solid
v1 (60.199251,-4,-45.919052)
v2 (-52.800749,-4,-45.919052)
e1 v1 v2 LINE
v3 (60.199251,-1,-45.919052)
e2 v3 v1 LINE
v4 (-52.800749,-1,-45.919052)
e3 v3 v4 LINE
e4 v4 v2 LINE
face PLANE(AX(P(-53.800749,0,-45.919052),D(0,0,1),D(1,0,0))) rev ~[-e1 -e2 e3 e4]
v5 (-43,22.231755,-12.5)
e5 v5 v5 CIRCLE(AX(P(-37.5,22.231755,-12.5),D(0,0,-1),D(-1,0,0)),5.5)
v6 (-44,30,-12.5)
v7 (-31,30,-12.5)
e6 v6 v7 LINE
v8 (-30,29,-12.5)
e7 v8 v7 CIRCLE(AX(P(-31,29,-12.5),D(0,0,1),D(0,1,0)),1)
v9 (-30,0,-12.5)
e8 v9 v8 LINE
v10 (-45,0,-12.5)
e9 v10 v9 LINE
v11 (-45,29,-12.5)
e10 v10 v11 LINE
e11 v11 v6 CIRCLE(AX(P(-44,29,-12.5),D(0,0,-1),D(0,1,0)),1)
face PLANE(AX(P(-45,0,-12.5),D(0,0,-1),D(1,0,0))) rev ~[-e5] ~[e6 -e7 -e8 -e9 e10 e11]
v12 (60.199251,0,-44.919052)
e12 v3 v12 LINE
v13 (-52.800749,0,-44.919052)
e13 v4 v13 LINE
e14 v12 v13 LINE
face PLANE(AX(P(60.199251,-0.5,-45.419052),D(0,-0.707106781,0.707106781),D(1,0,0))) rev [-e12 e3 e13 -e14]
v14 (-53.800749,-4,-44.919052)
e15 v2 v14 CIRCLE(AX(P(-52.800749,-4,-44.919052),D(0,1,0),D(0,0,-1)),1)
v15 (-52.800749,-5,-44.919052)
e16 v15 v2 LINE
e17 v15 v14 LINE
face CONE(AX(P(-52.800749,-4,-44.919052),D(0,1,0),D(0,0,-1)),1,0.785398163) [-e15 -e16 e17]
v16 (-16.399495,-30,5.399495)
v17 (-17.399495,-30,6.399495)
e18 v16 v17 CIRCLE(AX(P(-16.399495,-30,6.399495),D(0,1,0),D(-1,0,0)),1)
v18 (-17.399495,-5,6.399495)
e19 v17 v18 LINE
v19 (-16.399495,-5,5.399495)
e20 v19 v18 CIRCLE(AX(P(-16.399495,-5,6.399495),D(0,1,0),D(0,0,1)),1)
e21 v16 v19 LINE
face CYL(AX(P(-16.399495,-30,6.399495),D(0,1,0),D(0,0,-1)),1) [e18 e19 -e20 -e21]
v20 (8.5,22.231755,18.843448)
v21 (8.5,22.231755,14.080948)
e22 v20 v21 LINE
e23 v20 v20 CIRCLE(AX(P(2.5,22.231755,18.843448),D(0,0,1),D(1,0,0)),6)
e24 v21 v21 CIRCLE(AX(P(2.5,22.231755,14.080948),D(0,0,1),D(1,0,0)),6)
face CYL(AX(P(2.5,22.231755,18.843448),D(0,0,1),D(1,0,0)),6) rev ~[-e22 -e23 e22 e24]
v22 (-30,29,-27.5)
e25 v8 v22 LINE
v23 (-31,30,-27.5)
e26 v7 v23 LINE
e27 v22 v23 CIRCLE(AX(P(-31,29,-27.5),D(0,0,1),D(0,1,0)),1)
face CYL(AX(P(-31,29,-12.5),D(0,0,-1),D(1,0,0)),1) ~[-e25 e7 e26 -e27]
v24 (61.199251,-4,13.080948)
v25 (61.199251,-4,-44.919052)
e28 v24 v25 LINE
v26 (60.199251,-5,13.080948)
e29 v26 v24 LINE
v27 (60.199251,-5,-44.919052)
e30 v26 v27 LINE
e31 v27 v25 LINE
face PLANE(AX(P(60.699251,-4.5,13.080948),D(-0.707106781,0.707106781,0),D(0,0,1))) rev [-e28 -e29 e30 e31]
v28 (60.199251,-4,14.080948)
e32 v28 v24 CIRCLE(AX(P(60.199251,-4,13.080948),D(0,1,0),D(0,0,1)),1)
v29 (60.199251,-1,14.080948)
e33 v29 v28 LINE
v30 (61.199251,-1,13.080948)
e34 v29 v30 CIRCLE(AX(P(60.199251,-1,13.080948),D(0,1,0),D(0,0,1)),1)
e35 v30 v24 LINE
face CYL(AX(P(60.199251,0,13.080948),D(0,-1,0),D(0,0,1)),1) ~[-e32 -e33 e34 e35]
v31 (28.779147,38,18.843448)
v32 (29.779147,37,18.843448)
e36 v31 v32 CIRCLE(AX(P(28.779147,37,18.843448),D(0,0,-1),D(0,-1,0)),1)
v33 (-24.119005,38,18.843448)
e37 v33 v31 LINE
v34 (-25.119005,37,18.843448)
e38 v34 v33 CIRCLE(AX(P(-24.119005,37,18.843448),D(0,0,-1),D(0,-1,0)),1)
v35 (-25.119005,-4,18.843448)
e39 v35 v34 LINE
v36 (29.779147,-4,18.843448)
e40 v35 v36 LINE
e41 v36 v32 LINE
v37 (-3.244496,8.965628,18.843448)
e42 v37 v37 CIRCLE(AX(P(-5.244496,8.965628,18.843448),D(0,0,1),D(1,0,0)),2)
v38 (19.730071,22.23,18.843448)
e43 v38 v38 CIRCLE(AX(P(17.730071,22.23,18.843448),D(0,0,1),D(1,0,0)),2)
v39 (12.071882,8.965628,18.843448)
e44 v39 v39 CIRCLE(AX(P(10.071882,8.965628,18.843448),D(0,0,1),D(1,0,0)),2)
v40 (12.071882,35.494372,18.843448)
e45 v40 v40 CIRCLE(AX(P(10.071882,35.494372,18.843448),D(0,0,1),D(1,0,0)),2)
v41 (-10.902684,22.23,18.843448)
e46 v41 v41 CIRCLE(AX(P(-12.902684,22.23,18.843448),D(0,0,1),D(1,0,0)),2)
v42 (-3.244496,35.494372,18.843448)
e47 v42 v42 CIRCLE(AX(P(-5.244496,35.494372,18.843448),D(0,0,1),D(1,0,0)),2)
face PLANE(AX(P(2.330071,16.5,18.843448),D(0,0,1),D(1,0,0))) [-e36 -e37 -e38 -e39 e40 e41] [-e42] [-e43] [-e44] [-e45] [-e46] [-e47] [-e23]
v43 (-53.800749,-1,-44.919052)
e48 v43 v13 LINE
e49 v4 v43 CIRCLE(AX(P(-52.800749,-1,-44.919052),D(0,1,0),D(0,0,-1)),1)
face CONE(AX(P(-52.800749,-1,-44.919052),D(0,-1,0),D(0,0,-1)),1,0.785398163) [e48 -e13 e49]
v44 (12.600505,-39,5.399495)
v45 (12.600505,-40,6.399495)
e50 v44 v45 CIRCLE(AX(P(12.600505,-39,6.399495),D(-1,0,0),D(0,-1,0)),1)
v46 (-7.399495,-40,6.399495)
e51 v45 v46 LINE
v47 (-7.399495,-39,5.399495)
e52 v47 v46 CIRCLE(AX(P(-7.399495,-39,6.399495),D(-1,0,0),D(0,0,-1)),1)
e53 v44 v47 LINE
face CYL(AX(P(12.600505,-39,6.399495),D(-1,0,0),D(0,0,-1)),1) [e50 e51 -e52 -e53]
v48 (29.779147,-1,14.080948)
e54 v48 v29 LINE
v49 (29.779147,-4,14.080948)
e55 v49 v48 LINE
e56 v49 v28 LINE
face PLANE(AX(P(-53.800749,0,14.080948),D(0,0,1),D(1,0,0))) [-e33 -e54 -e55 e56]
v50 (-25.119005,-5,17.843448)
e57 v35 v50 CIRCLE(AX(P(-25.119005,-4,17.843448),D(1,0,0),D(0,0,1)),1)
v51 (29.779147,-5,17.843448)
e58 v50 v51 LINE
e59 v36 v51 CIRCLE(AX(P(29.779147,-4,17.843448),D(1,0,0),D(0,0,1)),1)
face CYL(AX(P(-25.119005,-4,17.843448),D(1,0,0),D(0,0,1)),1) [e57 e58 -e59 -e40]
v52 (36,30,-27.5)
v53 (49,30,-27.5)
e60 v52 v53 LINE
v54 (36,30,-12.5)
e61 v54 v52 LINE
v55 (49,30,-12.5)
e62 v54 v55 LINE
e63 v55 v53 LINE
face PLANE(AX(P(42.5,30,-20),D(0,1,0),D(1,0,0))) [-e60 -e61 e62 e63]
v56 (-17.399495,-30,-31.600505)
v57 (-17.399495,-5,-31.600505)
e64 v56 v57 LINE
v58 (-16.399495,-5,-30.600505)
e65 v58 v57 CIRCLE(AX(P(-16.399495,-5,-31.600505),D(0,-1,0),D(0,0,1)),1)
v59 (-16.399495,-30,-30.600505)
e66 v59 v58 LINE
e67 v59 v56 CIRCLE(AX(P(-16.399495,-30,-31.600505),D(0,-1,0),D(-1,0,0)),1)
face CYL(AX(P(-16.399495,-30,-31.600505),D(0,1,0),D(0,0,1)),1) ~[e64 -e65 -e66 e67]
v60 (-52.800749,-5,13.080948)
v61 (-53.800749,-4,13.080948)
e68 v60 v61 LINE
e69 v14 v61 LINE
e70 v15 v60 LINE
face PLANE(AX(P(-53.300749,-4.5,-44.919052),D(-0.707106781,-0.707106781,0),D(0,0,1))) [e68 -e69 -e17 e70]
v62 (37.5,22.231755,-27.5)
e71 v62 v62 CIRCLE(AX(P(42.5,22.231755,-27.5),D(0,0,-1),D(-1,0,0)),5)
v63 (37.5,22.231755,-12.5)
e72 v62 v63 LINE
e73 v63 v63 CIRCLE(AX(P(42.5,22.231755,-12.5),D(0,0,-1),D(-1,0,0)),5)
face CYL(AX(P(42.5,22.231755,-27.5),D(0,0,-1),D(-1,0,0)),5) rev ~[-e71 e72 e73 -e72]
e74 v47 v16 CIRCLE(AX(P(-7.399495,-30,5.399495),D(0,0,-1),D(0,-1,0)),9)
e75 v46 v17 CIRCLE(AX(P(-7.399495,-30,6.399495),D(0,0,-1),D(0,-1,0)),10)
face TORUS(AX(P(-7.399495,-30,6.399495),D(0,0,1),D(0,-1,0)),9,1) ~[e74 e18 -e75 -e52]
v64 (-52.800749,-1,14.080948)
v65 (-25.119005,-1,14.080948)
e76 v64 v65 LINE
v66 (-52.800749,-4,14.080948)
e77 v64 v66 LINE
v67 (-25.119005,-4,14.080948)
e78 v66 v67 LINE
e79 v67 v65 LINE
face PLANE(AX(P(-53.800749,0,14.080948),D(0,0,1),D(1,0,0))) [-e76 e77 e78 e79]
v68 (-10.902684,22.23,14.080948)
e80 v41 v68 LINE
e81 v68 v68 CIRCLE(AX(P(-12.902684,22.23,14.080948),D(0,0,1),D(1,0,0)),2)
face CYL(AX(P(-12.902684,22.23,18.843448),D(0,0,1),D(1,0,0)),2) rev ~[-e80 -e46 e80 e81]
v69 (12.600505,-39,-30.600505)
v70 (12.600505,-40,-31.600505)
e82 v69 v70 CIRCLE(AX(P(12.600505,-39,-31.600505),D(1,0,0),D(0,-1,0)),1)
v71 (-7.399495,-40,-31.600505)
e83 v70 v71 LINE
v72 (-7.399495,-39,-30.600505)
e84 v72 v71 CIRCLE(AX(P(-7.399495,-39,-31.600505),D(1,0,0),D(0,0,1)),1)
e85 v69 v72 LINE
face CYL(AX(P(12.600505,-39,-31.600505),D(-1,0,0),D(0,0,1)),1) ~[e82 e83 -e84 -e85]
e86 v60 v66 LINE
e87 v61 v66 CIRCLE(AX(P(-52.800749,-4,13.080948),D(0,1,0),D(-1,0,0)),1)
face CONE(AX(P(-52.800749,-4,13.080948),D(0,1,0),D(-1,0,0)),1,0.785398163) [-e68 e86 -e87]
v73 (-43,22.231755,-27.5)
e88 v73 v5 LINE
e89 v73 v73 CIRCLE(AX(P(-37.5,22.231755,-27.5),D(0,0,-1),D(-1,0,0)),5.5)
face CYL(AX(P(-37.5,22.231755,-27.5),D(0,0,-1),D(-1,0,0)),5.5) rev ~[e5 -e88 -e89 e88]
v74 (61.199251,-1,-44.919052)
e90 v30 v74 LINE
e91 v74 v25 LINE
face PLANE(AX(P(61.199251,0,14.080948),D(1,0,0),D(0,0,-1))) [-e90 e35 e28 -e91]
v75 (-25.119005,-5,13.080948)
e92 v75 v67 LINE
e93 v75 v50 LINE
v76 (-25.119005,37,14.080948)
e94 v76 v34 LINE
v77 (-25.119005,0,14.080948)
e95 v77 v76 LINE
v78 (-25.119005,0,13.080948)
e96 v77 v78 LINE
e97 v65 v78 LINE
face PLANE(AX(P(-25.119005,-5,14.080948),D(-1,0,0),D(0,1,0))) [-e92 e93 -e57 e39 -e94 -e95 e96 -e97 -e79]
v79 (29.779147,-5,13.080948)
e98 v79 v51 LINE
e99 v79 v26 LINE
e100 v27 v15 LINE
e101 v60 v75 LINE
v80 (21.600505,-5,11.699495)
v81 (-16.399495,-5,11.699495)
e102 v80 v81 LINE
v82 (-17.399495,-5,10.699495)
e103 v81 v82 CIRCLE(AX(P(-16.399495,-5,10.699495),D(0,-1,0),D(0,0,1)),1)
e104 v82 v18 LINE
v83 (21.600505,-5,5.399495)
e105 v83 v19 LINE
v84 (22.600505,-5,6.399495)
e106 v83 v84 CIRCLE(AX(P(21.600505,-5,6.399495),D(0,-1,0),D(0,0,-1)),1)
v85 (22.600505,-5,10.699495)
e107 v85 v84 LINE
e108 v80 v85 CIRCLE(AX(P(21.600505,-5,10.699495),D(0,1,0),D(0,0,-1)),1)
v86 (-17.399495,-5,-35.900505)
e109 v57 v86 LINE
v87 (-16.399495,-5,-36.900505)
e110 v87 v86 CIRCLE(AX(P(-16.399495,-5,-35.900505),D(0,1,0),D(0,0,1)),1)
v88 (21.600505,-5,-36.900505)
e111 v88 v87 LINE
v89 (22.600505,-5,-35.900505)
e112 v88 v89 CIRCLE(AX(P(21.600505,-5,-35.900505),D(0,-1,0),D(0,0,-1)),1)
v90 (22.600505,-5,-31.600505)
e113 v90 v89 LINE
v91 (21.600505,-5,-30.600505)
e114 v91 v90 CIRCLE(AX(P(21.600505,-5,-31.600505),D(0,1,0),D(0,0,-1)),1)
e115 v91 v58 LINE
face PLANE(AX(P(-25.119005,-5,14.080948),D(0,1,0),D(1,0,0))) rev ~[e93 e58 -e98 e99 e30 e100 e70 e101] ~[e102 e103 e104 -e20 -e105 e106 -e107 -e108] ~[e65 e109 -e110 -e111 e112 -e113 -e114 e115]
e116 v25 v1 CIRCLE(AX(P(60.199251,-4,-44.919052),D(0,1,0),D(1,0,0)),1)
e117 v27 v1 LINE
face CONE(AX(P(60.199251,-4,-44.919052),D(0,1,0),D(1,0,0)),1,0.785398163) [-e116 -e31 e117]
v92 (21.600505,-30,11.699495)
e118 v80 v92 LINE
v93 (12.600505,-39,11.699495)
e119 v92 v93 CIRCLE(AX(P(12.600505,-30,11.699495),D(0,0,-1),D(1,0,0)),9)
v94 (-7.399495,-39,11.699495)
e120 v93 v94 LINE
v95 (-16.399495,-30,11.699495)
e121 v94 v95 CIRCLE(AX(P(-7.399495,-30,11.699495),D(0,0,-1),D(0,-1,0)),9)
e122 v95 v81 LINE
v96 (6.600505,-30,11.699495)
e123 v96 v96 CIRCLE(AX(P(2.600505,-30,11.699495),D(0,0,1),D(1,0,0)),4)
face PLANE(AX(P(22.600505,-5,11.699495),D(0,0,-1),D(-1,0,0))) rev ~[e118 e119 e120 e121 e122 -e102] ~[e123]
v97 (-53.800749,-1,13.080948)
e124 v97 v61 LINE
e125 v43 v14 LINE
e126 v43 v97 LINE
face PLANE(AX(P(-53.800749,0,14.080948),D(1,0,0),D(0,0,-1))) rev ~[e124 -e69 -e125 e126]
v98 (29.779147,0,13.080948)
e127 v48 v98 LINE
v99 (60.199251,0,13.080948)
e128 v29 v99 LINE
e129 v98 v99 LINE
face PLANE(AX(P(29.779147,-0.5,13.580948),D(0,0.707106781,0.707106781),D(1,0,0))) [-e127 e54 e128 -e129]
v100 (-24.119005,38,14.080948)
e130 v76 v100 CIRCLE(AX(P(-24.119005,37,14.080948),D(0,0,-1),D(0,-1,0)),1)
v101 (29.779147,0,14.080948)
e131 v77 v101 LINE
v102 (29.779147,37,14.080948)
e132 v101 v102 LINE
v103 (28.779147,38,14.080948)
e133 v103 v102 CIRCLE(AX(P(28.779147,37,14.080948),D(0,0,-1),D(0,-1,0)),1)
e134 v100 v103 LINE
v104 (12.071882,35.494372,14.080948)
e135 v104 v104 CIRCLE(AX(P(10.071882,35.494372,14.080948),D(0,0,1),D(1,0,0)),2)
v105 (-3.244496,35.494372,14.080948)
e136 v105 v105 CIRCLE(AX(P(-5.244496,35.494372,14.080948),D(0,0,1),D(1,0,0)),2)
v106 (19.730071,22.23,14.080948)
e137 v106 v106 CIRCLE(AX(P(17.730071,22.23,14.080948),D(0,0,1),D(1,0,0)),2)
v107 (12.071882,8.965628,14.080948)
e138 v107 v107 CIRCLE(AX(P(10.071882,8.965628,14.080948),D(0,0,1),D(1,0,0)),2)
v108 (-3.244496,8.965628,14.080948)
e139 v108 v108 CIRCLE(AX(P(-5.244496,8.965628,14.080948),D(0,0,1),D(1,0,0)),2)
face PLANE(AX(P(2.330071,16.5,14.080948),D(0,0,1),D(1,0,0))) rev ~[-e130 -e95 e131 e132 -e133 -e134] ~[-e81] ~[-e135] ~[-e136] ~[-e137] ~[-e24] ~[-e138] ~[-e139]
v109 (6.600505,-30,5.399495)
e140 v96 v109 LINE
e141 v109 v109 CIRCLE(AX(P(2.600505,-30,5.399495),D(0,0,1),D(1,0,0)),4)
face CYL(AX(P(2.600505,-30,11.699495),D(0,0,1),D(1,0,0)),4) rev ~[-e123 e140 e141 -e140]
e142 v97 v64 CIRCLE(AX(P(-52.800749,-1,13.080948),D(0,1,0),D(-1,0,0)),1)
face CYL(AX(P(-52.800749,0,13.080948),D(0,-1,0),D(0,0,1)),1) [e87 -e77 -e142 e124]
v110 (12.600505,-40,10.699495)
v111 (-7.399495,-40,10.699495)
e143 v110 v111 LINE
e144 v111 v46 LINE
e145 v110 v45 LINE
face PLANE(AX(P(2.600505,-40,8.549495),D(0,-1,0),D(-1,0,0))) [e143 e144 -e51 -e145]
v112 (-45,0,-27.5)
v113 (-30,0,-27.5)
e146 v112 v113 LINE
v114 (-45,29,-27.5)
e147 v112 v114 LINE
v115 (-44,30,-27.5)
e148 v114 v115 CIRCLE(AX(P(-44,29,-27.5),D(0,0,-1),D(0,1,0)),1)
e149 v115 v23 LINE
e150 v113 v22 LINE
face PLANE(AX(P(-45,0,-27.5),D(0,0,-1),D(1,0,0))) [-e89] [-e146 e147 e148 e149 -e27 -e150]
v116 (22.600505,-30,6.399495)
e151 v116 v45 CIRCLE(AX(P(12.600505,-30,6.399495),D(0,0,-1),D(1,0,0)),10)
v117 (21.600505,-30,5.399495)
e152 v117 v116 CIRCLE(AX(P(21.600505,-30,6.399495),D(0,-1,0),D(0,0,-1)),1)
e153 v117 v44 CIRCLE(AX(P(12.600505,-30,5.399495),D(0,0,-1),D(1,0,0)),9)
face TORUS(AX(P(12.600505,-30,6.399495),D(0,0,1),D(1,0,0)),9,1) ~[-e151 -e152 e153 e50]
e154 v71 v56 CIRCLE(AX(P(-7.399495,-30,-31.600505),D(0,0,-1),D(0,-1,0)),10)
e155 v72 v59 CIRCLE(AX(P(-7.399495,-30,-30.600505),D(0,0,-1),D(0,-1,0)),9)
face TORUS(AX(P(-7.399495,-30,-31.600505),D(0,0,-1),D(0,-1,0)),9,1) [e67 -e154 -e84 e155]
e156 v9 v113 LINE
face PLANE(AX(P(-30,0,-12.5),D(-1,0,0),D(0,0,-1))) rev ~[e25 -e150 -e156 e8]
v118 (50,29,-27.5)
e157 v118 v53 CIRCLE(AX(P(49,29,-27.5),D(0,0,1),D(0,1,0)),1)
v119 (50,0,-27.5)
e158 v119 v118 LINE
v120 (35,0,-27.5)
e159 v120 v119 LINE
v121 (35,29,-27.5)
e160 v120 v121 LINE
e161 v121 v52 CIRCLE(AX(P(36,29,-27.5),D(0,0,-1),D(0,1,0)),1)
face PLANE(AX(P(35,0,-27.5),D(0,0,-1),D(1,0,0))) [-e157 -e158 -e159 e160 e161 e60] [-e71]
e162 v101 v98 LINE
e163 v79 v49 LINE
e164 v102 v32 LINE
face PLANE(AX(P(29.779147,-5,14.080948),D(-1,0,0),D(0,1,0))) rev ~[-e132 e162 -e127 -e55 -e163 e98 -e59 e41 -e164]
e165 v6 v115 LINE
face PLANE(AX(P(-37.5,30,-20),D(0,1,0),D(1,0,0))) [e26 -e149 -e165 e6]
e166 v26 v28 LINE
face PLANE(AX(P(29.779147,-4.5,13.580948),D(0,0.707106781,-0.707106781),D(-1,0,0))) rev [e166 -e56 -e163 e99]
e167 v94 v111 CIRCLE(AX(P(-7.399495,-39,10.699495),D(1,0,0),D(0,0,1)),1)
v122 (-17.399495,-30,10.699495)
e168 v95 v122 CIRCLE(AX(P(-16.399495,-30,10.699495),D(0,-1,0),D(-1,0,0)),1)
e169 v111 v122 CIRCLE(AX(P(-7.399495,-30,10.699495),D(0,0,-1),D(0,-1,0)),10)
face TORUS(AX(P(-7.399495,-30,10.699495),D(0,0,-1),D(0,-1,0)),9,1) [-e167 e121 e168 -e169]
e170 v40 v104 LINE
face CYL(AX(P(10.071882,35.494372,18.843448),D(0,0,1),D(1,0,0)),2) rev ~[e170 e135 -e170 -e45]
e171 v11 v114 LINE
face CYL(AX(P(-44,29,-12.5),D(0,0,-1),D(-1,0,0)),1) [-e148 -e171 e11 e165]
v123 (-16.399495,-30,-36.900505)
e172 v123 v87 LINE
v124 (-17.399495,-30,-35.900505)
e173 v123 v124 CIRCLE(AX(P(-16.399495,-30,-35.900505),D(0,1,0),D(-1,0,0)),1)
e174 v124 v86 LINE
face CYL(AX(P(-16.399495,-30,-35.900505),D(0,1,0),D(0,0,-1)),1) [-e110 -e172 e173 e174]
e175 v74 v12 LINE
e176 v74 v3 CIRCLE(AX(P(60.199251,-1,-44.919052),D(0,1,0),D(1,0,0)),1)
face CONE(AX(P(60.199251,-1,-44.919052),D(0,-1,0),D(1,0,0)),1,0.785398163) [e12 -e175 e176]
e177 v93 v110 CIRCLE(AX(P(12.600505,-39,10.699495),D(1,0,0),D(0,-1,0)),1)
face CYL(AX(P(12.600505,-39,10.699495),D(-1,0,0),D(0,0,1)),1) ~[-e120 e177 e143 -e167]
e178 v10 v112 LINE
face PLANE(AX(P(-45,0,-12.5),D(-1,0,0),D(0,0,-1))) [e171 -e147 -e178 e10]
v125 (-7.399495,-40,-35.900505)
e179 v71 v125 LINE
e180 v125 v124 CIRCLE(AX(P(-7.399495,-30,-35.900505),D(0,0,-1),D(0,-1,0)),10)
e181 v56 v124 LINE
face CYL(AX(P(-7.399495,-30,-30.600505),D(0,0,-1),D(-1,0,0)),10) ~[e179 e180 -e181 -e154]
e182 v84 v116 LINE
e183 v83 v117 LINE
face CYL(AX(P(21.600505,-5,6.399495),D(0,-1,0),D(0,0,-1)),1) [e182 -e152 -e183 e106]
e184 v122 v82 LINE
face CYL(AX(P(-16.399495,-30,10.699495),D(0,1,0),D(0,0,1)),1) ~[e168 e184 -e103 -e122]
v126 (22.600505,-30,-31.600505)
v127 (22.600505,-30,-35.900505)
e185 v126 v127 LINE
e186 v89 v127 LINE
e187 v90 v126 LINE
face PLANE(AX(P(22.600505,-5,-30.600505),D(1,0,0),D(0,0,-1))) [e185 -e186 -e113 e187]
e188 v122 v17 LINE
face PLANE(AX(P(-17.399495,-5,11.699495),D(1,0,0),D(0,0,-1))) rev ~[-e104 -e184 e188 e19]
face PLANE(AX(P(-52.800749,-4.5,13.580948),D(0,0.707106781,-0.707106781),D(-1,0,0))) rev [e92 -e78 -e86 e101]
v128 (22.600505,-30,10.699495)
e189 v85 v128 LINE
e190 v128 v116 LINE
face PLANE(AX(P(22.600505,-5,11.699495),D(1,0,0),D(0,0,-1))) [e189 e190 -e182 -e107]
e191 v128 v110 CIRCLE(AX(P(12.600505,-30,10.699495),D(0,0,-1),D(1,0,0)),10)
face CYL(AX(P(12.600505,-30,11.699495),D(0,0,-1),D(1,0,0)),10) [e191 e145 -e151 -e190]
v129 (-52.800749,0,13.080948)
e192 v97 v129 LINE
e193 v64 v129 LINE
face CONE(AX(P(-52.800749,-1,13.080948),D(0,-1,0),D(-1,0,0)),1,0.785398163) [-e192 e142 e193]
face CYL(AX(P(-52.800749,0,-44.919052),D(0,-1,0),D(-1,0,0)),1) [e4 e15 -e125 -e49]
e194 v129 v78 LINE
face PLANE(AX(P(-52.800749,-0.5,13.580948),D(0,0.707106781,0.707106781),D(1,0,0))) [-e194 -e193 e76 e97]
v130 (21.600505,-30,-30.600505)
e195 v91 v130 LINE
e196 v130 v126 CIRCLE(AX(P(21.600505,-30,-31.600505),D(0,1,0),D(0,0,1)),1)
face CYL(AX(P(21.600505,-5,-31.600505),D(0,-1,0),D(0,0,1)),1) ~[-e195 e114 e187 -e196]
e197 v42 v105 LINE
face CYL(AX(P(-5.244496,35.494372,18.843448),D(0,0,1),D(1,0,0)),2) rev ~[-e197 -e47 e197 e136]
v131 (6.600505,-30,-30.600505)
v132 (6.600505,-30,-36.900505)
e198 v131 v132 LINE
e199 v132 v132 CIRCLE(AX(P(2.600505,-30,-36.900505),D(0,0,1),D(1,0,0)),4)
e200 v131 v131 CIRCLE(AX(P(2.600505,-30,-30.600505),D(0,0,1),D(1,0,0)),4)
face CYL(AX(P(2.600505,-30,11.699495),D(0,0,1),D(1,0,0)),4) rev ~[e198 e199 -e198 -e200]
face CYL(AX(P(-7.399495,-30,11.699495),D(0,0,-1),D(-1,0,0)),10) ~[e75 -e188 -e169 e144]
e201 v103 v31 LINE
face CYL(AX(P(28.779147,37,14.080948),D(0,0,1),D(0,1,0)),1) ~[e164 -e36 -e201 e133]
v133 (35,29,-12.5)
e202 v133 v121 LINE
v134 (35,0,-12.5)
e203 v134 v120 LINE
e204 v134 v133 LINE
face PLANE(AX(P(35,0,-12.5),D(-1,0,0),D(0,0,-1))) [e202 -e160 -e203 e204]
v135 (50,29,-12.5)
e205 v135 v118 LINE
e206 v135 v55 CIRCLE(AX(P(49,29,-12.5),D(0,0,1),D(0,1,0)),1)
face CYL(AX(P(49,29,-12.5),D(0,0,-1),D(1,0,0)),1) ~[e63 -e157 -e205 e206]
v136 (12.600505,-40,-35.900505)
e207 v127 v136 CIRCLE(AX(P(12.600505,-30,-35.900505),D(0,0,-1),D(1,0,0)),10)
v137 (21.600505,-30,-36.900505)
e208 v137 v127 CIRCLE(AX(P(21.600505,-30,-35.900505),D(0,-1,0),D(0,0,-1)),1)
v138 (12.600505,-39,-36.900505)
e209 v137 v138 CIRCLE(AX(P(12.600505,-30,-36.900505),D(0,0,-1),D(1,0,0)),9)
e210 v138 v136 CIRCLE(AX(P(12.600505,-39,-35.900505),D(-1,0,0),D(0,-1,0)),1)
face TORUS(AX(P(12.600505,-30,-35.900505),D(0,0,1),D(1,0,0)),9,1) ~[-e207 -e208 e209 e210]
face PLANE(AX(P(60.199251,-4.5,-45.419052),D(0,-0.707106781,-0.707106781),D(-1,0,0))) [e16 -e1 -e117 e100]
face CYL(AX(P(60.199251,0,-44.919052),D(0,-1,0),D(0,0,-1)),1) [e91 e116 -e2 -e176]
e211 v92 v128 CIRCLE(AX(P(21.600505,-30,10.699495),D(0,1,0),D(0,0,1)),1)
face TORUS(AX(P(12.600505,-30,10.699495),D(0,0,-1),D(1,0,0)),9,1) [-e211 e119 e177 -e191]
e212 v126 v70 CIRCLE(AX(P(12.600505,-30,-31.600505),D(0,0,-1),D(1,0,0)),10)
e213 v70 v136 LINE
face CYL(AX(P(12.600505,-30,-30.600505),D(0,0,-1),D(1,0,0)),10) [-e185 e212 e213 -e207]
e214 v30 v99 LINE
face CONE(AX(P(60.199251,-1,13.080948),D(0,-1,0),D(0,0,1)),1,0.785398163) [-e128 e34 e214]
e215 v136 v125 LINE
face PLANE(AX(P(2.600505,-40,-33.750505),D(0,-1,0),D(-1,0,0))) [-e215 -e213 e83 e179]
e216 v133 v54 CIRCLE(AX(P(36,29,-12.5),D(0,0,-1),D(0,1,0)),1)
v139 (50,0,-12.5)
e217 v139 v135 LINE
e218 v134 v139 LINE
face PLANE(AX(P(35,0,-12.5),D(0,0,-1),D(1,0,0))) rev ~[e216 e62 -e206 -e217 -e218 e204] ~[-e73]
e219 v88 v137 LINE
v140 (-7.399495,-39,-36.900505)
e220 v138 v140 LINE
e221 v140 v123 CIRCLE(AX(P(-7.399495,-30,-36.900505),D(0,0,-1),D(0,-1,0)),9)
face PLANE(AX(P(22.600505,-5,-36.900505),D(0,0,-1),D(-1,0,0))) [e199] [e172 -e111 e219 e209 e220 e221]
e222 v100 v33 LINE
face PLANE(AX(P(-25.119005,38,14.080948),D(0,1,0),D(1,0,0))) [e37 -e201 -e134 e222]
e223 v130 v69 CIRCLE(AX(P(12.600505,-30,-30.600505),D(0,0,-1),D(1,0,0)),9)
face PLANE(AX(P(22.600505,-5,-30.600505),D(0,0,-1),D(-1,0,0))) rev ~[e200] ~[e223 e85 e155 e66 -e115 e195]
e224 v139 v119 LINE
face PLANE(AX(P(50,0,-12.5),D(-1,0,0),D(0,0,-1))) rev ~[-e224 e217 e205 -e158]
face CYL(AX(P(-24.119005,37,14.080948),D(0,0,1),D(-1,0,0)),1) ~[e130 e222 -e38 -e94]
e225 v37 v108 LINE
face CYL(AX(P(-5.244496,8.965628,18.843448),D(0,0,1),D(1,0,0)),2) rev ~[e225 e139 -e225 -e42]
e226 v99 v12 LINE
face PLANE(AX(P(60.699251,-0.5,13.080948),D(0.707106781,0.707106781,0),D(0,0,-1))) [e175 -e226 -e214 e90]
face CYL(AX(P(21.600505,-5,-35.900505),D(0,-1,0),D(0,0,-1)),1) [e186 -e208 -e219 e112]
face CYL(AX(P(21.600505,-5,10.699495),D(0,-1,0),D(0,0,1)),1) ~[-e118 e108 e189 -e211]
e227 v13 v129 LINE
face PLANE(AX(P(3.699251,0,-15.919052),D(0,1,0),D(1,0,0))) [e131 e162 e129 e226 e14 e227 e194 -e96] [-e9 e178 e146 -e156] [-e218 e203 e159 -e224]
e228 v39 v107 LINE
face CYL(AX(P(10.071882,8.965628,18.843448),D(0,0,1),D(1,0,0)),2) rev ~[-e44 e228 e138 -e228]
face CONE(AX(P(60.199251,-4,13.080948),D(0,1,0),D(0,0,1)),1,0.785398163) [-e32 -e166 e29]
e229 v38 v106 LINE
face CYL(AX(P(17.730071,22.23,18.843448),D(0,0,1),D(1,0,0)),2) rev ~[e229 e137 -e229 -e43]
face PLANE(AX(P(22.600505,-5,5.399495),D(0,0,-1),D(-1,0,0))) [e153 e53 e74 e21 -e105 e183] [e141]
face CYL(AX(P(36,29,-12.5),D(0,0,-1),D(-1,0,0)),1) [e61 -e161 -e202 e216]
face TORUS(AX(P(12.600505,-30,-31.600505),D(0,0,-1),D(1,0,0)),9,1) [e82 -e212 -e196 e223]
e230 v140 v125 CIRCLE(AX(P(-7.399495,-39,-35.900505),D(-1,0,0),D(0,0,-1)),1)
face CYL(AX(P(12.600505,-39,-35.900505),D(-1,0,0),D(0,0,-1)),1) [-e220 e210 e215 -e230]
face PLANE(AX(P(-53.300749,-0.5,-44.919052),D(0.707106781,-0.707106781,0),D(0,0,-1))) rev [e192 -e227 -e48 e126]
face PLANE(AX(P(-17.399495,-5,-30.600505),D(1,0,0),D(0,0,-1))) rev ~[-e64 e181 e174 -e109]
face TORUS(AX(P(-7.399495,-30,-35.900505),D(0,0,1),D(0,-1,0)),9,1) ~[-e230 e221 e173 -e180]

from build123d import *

# Parameters (mm, degrees)
CROQUIS1_W                = 15
CROQUIS1_H                = 15
SALIENTE_EXTRUIR1_DEPTH   = 30
SALIENTE_EXTRUIR1_2_DEPTH = 30
CROQUIS2_R                = 5.5
CORTAR_EXTRUIR1_DEPTH     = 30
CROQUIS3_R                = 5
CORTAR_EXTRUIR2_DEPTH     = 30
CROQUIS5_W                = 115
CROQUIS5_H                = 60
SALIENTE_EXTRUIR3_DEPTH   = 5
CROQUIS6_W                = 54.898151636
CROQUIS6_H                = 43
SALIENTE_EXTRUIR4_DEPTH   = 4.7625
CROQUIS7_R                = 2
CORTAR_EXTRUIR3_DEPTH     = 4.7625
CROQUIS8_R                = 6
CORTAR_EXTRUIR4_DEPTH     = 10
CROQUIS9_W                = 40
CROQUIS9_H                = 6.3
SALIENTE_EXTRUIR5_DEPTH   = 35
REDONDEO1_R               = 10
CORTAR_EXTRUIR5_REACH     = 95.087
CROQUIS10_R               = 4
REDONDEO3_R               = 1
REDONDEO4_R               = 1
REDONDEO5_R               = 1
REDONDEO6_R               = 1
REDONDEO8_R               = 1
CHAFL_N1_SIZE             = 1


with BuildPart() as part:
    # Croquis1 → Saliente-Extruir1 (new body)
    with BuildSketch(Plane(origin=(0, 0, 0), x_dir=(1, 0, 0), z_dir=(0, 1, 0))):
        with Locations((-37.5, 20.000000005)):
            Rectangle(CROQUIS1_W, CROQUIS1_H)
    extrude(amount=SALIENTE_EXTRUIR1_DEPTH)

    # Croquis2 → Cortar-Extruir1 (cut)
    with BuildSketch(Plane(origin=(0, 0, -27.500000005), x_dir=(-1, 0, 0), z_dir=(0, 0, -1))):
        with Locations((37.5, 22.231754591)):
            Circle(CROQUIS2_R)
    extrude(amount=-CORTAR_EXTRUIR1_DEPTH, mode=Mode.SUBTRACT)



with BuildPart() as body_2:
    # Croquis1 → Saliente-Extruir1 2 (new body)
    with BuildSketch(Plane(origin=(0, 0, 0), x_dir=(1, 0, 0), z_dir=(0, 1, 0))):
        with Locations((42.5, 20.000000005)):
            Rectangle(CROQUIS1_W, CROQUIS1_H)
    extrude(amount=SALIENTE_EXTRUIR1_2_DEPTH)

    # Croquis3 → Cortar-Extruir2 (cut)
    with BuildSketch(Plane(origin=(0, 0, -27.500000005), x_dir=(-1, 0, 0), z_dir=(0, 0, -1))):
        with Locations((-42.5, 22.231754591)):
            Circle(CROQUIS3_R)
    extrude(amount=-CORTAR_EXTRUIR2_DEPTH, mode=Mode.SUBTRACT)


with BuildPart() as part_1:
    add(part.part)

    add(body_2.part)  # Saliente-Extruir3 merges body 2
    # Croquis5 → Saliente-Extruir3 (add)
    with BuildSketch(Plane(origin=(0, 0, 0), x_dir=(1, 0, 0), z_dir=(0, 1, 0))):
        with Locations((3.699250586, 15.919051757)):
            Rectangle(CROQUIS5_W, CROQUIS5_H)
    extrude(amount=-SALIENTE_EXTRUIR3_DEPTH)

    # Croquis6 → Saliente-Extruir4 (add)
    with BuildSketch(Plane.XY.offset(14.080948243)):
        with Locations((2.330070819, 16.5)):
            Rectangle(CROQUIS6_W, CROQUIS6_H)
    extrude(amount=SALIENTE_EXTRUIR4_DEPTH)

    # Croquis7 → Cortar-Extruir3 (cut)
    with BuildSketch(Plane.XY.offset(18.843448243)):
        with Locations((17.730070819, 22.23)):
            Circle(CROQUIS7_R)
        with Locations((10.071882042, 8.965627944)):
            Circle(CROQUIS7_R)
        with Locations((-5.244495512, 8.965627944)):
            Circle(CROQUIS7_R)
        with Locations((-12.902684289, 22.23)):
            Circle(CROQUIS7_R)
        with Locations((-5.244495512, 35.494372056)):
            Circle(CROQUIS7_R)
        with Locations((10.071882042, 35.494372056)):
            Circle(CROQUIS7_R)
    extrude(amount=-CORTAR_EXTRUIR3_DEPTH, mode=Mode.SUBTRACT)

    # Croquis8 → Cortar-Extruir4 (cut)
    with BuildSketch(Plane.XY.offset(18.843448243)):
        with Locations((2.5, 22.231754591)):
            Circle(CROQUIS8_R)
    extrude(amount=-CORTAR_EXTRUIR4_DEPTH, mode=Mode.SUBTRACT)

    # Croquis9 → Saliente-Extruir5 (add)
    with BuildSketch(Plane(origin=(0, -5, 0), x_dir=(-1, 0, 0), z_dir=(0, -1, 0))):
        with Locations((-2.600505063, 33.750505063)):
            Rectangle(CROQUIS9_W, CROQUIS9_H)
        with Locations((-2.600505063, -8.549494937)):
            Rectangle(CROQUIS9_W, CROQUIS9_H)
    extrude(amount=SALIENTE_EXTRUIR5_DEPTH)

    # Redondeo1
    redondeo1_edges = [part_1.edges().sort_by_distance(p)[0] for p in [
        (22.600505063, -40, 8.549494937),
        (-17.399494937, -40, 8.549494937),
        (-17.399494937, -40, -33.750505063),
        (22.600505063, -40, -33.750505063),
    ]]
    fillet(redondeo1_edges, radius=REDONDEO1_R)

    # Cortar-Extruir5: up to this face of the body (flat: up to its plane)
    cortar_extruir5_end = Plane(part_1.part.faces().sort_by_distance((2.600505063, -22.017171968, -36.900505063))[0])
    # Croquis10 → Cortar-Extruir5 (cut, up to the picked face)
    with BuildSketch(Plane.XY.offset(11.699494937), mode=Mode.PRIVATE) as cortar_extruir5_sk1:
        with Locations((2.600505063, -30)):
            Circle(CROQUIS10_R)
    cortar_extruir5_tool1 = split(extrude(cortar_extruir5_sk1.sketch, amount=-CORTAR_EXTRUIR5_REACH, mode=Mode.PRIVATE), bisect_by=cortar_extruir5_end, keep=Keep.BOTH, mode=Mode.PRIVATE)
    add(cortar_extruir5_tool1.solids().sort_by(Axis((2.600505, -30, 11.699495), (0, 0, -1)))[0], mode=Mode.SUBTRACT)

    # Redondeo3
    redondeo3_edges = [part_1.edges().sort_by_distance(p)[0] for p in [
        (2.600505063, -40, -36.900505063),
        (2.600505063, -40, -30.600505063),
        (-17.399494937, -17.5, -30.600505063),
        (22.600505063, -17.5, -30.600505063),
        (-14.470562748, -37.071067812, -30.600505063),
        (19.671572875, -37.071067812, -30.600505063),
        (22.600505063, -17.5, -36.900505063),
        (-17.399494937, -17.5, -36.900505063),
        (-14.470562748, -37.071067812, -36.900505063),
        (19.671572875, -37.071067812, -36.900505063),
        (2.600505063, -40, 11.699494937),
        (2.600505063, -40, 5.399494937),
        (-17.399494937, -17.5, 11.699494937),
        (22.600505063, -17.5, 11.699494937),
        (-14.470562748, -37.071067812, 11.699494937),
        (19.671572875, -37.071067812, 11.699494937),
        (22.600505063, -17.5, 5.399494937),
        (-17.399494937, -17.5, 5.399494937),
        (-14.470562748, -37.071067812, 5.399494937),
        (19.671572875, -37.071067812, 5.399494937),
    ]]
    fillet(redondeo3_edges, radius=REDONDEO3_R)

    # Redondeo4
    redondeo4_edges = [part_1.edges().sort_by_distance(p)[0] for p in [
        (61.199250586, -2.5, 14.080948243),
        (-53.800749414, -2.5, 14.080948243),
        (-53.800749414, -2.5, -45.919051757),
        (61.199250586, -2.5, -45.919051757),
    ]]
    fillet(redondeo4_edges, radius=REDONDEO4_R)

    # Redondeo5
    redondeo5_edges = [part_1.edges().sort_by_distance(p)[0] for p in [
        (-30, 30, -20.000000005),
        (35, 30, -20.000000005),
        (50, 30, -20.000000005),
        (-45, 30, -20.000000005),
    ]]
    fillet(redondeo5_edges, radius=REDONDEO5_R)

    # Redondeo6
    redondeo6_edges = [part_1.edges().sort_by_distance(p)[0] for p in [
        (-25.119004999, 38, 16.462198243),
        (29.779146637, 38, 16.462198243),
    ]]
    fillet(redondeo6_edges, radius=REDONDEO6_R)

    # Redondeo8
    redondeo8_edges = [part_1.edges().sort_by_distance(p)[0] for p in [
        (2.330070819, -5, 18.843448243),
    ]]
    fillet(redondeo8_edges, radius=REDONDEO8_R)

    # Chaflán1
    chafl_n1_edges = [part_1.edges().sort_by_distance(p)[0] for p in [
        (-38.959877207, 0, 14.080948243),
        (61.199250586, 0, -15.919051757),
        (3.699250586, 0, -45.919051757),
        (-53.800749414, 0, -15.919051757),
        (60.906357367, 0, -45.626158538),
        (-53.507856195, 0, -45.626158538),
        (-53.507856195, 0, 13.788055024),
        (60.906357367, 0, 13.788055024),
        (61.199250586, -5, -15.919051757),
        (-38.959877207, -5, 14.080948243),
        (-53.800749414, -5, -15.919051757),
        (3.699250586, -5, -45.919051757),
        (60.906357367, -5, -45.626158538),
        (-53.507856195, -5, -45.626158538),
        (-53.507856195, -5, 13.788055024),
        (60.906357367, -5, 13.788055024),
        (44.989198611, 0, 14.080948243),
        (44.989198611, -5, 14.080948243),
    ]]
    chamfer(chafl_n1_edges, length=CHAFL_N1_SIZE)


solid = part_1.part
